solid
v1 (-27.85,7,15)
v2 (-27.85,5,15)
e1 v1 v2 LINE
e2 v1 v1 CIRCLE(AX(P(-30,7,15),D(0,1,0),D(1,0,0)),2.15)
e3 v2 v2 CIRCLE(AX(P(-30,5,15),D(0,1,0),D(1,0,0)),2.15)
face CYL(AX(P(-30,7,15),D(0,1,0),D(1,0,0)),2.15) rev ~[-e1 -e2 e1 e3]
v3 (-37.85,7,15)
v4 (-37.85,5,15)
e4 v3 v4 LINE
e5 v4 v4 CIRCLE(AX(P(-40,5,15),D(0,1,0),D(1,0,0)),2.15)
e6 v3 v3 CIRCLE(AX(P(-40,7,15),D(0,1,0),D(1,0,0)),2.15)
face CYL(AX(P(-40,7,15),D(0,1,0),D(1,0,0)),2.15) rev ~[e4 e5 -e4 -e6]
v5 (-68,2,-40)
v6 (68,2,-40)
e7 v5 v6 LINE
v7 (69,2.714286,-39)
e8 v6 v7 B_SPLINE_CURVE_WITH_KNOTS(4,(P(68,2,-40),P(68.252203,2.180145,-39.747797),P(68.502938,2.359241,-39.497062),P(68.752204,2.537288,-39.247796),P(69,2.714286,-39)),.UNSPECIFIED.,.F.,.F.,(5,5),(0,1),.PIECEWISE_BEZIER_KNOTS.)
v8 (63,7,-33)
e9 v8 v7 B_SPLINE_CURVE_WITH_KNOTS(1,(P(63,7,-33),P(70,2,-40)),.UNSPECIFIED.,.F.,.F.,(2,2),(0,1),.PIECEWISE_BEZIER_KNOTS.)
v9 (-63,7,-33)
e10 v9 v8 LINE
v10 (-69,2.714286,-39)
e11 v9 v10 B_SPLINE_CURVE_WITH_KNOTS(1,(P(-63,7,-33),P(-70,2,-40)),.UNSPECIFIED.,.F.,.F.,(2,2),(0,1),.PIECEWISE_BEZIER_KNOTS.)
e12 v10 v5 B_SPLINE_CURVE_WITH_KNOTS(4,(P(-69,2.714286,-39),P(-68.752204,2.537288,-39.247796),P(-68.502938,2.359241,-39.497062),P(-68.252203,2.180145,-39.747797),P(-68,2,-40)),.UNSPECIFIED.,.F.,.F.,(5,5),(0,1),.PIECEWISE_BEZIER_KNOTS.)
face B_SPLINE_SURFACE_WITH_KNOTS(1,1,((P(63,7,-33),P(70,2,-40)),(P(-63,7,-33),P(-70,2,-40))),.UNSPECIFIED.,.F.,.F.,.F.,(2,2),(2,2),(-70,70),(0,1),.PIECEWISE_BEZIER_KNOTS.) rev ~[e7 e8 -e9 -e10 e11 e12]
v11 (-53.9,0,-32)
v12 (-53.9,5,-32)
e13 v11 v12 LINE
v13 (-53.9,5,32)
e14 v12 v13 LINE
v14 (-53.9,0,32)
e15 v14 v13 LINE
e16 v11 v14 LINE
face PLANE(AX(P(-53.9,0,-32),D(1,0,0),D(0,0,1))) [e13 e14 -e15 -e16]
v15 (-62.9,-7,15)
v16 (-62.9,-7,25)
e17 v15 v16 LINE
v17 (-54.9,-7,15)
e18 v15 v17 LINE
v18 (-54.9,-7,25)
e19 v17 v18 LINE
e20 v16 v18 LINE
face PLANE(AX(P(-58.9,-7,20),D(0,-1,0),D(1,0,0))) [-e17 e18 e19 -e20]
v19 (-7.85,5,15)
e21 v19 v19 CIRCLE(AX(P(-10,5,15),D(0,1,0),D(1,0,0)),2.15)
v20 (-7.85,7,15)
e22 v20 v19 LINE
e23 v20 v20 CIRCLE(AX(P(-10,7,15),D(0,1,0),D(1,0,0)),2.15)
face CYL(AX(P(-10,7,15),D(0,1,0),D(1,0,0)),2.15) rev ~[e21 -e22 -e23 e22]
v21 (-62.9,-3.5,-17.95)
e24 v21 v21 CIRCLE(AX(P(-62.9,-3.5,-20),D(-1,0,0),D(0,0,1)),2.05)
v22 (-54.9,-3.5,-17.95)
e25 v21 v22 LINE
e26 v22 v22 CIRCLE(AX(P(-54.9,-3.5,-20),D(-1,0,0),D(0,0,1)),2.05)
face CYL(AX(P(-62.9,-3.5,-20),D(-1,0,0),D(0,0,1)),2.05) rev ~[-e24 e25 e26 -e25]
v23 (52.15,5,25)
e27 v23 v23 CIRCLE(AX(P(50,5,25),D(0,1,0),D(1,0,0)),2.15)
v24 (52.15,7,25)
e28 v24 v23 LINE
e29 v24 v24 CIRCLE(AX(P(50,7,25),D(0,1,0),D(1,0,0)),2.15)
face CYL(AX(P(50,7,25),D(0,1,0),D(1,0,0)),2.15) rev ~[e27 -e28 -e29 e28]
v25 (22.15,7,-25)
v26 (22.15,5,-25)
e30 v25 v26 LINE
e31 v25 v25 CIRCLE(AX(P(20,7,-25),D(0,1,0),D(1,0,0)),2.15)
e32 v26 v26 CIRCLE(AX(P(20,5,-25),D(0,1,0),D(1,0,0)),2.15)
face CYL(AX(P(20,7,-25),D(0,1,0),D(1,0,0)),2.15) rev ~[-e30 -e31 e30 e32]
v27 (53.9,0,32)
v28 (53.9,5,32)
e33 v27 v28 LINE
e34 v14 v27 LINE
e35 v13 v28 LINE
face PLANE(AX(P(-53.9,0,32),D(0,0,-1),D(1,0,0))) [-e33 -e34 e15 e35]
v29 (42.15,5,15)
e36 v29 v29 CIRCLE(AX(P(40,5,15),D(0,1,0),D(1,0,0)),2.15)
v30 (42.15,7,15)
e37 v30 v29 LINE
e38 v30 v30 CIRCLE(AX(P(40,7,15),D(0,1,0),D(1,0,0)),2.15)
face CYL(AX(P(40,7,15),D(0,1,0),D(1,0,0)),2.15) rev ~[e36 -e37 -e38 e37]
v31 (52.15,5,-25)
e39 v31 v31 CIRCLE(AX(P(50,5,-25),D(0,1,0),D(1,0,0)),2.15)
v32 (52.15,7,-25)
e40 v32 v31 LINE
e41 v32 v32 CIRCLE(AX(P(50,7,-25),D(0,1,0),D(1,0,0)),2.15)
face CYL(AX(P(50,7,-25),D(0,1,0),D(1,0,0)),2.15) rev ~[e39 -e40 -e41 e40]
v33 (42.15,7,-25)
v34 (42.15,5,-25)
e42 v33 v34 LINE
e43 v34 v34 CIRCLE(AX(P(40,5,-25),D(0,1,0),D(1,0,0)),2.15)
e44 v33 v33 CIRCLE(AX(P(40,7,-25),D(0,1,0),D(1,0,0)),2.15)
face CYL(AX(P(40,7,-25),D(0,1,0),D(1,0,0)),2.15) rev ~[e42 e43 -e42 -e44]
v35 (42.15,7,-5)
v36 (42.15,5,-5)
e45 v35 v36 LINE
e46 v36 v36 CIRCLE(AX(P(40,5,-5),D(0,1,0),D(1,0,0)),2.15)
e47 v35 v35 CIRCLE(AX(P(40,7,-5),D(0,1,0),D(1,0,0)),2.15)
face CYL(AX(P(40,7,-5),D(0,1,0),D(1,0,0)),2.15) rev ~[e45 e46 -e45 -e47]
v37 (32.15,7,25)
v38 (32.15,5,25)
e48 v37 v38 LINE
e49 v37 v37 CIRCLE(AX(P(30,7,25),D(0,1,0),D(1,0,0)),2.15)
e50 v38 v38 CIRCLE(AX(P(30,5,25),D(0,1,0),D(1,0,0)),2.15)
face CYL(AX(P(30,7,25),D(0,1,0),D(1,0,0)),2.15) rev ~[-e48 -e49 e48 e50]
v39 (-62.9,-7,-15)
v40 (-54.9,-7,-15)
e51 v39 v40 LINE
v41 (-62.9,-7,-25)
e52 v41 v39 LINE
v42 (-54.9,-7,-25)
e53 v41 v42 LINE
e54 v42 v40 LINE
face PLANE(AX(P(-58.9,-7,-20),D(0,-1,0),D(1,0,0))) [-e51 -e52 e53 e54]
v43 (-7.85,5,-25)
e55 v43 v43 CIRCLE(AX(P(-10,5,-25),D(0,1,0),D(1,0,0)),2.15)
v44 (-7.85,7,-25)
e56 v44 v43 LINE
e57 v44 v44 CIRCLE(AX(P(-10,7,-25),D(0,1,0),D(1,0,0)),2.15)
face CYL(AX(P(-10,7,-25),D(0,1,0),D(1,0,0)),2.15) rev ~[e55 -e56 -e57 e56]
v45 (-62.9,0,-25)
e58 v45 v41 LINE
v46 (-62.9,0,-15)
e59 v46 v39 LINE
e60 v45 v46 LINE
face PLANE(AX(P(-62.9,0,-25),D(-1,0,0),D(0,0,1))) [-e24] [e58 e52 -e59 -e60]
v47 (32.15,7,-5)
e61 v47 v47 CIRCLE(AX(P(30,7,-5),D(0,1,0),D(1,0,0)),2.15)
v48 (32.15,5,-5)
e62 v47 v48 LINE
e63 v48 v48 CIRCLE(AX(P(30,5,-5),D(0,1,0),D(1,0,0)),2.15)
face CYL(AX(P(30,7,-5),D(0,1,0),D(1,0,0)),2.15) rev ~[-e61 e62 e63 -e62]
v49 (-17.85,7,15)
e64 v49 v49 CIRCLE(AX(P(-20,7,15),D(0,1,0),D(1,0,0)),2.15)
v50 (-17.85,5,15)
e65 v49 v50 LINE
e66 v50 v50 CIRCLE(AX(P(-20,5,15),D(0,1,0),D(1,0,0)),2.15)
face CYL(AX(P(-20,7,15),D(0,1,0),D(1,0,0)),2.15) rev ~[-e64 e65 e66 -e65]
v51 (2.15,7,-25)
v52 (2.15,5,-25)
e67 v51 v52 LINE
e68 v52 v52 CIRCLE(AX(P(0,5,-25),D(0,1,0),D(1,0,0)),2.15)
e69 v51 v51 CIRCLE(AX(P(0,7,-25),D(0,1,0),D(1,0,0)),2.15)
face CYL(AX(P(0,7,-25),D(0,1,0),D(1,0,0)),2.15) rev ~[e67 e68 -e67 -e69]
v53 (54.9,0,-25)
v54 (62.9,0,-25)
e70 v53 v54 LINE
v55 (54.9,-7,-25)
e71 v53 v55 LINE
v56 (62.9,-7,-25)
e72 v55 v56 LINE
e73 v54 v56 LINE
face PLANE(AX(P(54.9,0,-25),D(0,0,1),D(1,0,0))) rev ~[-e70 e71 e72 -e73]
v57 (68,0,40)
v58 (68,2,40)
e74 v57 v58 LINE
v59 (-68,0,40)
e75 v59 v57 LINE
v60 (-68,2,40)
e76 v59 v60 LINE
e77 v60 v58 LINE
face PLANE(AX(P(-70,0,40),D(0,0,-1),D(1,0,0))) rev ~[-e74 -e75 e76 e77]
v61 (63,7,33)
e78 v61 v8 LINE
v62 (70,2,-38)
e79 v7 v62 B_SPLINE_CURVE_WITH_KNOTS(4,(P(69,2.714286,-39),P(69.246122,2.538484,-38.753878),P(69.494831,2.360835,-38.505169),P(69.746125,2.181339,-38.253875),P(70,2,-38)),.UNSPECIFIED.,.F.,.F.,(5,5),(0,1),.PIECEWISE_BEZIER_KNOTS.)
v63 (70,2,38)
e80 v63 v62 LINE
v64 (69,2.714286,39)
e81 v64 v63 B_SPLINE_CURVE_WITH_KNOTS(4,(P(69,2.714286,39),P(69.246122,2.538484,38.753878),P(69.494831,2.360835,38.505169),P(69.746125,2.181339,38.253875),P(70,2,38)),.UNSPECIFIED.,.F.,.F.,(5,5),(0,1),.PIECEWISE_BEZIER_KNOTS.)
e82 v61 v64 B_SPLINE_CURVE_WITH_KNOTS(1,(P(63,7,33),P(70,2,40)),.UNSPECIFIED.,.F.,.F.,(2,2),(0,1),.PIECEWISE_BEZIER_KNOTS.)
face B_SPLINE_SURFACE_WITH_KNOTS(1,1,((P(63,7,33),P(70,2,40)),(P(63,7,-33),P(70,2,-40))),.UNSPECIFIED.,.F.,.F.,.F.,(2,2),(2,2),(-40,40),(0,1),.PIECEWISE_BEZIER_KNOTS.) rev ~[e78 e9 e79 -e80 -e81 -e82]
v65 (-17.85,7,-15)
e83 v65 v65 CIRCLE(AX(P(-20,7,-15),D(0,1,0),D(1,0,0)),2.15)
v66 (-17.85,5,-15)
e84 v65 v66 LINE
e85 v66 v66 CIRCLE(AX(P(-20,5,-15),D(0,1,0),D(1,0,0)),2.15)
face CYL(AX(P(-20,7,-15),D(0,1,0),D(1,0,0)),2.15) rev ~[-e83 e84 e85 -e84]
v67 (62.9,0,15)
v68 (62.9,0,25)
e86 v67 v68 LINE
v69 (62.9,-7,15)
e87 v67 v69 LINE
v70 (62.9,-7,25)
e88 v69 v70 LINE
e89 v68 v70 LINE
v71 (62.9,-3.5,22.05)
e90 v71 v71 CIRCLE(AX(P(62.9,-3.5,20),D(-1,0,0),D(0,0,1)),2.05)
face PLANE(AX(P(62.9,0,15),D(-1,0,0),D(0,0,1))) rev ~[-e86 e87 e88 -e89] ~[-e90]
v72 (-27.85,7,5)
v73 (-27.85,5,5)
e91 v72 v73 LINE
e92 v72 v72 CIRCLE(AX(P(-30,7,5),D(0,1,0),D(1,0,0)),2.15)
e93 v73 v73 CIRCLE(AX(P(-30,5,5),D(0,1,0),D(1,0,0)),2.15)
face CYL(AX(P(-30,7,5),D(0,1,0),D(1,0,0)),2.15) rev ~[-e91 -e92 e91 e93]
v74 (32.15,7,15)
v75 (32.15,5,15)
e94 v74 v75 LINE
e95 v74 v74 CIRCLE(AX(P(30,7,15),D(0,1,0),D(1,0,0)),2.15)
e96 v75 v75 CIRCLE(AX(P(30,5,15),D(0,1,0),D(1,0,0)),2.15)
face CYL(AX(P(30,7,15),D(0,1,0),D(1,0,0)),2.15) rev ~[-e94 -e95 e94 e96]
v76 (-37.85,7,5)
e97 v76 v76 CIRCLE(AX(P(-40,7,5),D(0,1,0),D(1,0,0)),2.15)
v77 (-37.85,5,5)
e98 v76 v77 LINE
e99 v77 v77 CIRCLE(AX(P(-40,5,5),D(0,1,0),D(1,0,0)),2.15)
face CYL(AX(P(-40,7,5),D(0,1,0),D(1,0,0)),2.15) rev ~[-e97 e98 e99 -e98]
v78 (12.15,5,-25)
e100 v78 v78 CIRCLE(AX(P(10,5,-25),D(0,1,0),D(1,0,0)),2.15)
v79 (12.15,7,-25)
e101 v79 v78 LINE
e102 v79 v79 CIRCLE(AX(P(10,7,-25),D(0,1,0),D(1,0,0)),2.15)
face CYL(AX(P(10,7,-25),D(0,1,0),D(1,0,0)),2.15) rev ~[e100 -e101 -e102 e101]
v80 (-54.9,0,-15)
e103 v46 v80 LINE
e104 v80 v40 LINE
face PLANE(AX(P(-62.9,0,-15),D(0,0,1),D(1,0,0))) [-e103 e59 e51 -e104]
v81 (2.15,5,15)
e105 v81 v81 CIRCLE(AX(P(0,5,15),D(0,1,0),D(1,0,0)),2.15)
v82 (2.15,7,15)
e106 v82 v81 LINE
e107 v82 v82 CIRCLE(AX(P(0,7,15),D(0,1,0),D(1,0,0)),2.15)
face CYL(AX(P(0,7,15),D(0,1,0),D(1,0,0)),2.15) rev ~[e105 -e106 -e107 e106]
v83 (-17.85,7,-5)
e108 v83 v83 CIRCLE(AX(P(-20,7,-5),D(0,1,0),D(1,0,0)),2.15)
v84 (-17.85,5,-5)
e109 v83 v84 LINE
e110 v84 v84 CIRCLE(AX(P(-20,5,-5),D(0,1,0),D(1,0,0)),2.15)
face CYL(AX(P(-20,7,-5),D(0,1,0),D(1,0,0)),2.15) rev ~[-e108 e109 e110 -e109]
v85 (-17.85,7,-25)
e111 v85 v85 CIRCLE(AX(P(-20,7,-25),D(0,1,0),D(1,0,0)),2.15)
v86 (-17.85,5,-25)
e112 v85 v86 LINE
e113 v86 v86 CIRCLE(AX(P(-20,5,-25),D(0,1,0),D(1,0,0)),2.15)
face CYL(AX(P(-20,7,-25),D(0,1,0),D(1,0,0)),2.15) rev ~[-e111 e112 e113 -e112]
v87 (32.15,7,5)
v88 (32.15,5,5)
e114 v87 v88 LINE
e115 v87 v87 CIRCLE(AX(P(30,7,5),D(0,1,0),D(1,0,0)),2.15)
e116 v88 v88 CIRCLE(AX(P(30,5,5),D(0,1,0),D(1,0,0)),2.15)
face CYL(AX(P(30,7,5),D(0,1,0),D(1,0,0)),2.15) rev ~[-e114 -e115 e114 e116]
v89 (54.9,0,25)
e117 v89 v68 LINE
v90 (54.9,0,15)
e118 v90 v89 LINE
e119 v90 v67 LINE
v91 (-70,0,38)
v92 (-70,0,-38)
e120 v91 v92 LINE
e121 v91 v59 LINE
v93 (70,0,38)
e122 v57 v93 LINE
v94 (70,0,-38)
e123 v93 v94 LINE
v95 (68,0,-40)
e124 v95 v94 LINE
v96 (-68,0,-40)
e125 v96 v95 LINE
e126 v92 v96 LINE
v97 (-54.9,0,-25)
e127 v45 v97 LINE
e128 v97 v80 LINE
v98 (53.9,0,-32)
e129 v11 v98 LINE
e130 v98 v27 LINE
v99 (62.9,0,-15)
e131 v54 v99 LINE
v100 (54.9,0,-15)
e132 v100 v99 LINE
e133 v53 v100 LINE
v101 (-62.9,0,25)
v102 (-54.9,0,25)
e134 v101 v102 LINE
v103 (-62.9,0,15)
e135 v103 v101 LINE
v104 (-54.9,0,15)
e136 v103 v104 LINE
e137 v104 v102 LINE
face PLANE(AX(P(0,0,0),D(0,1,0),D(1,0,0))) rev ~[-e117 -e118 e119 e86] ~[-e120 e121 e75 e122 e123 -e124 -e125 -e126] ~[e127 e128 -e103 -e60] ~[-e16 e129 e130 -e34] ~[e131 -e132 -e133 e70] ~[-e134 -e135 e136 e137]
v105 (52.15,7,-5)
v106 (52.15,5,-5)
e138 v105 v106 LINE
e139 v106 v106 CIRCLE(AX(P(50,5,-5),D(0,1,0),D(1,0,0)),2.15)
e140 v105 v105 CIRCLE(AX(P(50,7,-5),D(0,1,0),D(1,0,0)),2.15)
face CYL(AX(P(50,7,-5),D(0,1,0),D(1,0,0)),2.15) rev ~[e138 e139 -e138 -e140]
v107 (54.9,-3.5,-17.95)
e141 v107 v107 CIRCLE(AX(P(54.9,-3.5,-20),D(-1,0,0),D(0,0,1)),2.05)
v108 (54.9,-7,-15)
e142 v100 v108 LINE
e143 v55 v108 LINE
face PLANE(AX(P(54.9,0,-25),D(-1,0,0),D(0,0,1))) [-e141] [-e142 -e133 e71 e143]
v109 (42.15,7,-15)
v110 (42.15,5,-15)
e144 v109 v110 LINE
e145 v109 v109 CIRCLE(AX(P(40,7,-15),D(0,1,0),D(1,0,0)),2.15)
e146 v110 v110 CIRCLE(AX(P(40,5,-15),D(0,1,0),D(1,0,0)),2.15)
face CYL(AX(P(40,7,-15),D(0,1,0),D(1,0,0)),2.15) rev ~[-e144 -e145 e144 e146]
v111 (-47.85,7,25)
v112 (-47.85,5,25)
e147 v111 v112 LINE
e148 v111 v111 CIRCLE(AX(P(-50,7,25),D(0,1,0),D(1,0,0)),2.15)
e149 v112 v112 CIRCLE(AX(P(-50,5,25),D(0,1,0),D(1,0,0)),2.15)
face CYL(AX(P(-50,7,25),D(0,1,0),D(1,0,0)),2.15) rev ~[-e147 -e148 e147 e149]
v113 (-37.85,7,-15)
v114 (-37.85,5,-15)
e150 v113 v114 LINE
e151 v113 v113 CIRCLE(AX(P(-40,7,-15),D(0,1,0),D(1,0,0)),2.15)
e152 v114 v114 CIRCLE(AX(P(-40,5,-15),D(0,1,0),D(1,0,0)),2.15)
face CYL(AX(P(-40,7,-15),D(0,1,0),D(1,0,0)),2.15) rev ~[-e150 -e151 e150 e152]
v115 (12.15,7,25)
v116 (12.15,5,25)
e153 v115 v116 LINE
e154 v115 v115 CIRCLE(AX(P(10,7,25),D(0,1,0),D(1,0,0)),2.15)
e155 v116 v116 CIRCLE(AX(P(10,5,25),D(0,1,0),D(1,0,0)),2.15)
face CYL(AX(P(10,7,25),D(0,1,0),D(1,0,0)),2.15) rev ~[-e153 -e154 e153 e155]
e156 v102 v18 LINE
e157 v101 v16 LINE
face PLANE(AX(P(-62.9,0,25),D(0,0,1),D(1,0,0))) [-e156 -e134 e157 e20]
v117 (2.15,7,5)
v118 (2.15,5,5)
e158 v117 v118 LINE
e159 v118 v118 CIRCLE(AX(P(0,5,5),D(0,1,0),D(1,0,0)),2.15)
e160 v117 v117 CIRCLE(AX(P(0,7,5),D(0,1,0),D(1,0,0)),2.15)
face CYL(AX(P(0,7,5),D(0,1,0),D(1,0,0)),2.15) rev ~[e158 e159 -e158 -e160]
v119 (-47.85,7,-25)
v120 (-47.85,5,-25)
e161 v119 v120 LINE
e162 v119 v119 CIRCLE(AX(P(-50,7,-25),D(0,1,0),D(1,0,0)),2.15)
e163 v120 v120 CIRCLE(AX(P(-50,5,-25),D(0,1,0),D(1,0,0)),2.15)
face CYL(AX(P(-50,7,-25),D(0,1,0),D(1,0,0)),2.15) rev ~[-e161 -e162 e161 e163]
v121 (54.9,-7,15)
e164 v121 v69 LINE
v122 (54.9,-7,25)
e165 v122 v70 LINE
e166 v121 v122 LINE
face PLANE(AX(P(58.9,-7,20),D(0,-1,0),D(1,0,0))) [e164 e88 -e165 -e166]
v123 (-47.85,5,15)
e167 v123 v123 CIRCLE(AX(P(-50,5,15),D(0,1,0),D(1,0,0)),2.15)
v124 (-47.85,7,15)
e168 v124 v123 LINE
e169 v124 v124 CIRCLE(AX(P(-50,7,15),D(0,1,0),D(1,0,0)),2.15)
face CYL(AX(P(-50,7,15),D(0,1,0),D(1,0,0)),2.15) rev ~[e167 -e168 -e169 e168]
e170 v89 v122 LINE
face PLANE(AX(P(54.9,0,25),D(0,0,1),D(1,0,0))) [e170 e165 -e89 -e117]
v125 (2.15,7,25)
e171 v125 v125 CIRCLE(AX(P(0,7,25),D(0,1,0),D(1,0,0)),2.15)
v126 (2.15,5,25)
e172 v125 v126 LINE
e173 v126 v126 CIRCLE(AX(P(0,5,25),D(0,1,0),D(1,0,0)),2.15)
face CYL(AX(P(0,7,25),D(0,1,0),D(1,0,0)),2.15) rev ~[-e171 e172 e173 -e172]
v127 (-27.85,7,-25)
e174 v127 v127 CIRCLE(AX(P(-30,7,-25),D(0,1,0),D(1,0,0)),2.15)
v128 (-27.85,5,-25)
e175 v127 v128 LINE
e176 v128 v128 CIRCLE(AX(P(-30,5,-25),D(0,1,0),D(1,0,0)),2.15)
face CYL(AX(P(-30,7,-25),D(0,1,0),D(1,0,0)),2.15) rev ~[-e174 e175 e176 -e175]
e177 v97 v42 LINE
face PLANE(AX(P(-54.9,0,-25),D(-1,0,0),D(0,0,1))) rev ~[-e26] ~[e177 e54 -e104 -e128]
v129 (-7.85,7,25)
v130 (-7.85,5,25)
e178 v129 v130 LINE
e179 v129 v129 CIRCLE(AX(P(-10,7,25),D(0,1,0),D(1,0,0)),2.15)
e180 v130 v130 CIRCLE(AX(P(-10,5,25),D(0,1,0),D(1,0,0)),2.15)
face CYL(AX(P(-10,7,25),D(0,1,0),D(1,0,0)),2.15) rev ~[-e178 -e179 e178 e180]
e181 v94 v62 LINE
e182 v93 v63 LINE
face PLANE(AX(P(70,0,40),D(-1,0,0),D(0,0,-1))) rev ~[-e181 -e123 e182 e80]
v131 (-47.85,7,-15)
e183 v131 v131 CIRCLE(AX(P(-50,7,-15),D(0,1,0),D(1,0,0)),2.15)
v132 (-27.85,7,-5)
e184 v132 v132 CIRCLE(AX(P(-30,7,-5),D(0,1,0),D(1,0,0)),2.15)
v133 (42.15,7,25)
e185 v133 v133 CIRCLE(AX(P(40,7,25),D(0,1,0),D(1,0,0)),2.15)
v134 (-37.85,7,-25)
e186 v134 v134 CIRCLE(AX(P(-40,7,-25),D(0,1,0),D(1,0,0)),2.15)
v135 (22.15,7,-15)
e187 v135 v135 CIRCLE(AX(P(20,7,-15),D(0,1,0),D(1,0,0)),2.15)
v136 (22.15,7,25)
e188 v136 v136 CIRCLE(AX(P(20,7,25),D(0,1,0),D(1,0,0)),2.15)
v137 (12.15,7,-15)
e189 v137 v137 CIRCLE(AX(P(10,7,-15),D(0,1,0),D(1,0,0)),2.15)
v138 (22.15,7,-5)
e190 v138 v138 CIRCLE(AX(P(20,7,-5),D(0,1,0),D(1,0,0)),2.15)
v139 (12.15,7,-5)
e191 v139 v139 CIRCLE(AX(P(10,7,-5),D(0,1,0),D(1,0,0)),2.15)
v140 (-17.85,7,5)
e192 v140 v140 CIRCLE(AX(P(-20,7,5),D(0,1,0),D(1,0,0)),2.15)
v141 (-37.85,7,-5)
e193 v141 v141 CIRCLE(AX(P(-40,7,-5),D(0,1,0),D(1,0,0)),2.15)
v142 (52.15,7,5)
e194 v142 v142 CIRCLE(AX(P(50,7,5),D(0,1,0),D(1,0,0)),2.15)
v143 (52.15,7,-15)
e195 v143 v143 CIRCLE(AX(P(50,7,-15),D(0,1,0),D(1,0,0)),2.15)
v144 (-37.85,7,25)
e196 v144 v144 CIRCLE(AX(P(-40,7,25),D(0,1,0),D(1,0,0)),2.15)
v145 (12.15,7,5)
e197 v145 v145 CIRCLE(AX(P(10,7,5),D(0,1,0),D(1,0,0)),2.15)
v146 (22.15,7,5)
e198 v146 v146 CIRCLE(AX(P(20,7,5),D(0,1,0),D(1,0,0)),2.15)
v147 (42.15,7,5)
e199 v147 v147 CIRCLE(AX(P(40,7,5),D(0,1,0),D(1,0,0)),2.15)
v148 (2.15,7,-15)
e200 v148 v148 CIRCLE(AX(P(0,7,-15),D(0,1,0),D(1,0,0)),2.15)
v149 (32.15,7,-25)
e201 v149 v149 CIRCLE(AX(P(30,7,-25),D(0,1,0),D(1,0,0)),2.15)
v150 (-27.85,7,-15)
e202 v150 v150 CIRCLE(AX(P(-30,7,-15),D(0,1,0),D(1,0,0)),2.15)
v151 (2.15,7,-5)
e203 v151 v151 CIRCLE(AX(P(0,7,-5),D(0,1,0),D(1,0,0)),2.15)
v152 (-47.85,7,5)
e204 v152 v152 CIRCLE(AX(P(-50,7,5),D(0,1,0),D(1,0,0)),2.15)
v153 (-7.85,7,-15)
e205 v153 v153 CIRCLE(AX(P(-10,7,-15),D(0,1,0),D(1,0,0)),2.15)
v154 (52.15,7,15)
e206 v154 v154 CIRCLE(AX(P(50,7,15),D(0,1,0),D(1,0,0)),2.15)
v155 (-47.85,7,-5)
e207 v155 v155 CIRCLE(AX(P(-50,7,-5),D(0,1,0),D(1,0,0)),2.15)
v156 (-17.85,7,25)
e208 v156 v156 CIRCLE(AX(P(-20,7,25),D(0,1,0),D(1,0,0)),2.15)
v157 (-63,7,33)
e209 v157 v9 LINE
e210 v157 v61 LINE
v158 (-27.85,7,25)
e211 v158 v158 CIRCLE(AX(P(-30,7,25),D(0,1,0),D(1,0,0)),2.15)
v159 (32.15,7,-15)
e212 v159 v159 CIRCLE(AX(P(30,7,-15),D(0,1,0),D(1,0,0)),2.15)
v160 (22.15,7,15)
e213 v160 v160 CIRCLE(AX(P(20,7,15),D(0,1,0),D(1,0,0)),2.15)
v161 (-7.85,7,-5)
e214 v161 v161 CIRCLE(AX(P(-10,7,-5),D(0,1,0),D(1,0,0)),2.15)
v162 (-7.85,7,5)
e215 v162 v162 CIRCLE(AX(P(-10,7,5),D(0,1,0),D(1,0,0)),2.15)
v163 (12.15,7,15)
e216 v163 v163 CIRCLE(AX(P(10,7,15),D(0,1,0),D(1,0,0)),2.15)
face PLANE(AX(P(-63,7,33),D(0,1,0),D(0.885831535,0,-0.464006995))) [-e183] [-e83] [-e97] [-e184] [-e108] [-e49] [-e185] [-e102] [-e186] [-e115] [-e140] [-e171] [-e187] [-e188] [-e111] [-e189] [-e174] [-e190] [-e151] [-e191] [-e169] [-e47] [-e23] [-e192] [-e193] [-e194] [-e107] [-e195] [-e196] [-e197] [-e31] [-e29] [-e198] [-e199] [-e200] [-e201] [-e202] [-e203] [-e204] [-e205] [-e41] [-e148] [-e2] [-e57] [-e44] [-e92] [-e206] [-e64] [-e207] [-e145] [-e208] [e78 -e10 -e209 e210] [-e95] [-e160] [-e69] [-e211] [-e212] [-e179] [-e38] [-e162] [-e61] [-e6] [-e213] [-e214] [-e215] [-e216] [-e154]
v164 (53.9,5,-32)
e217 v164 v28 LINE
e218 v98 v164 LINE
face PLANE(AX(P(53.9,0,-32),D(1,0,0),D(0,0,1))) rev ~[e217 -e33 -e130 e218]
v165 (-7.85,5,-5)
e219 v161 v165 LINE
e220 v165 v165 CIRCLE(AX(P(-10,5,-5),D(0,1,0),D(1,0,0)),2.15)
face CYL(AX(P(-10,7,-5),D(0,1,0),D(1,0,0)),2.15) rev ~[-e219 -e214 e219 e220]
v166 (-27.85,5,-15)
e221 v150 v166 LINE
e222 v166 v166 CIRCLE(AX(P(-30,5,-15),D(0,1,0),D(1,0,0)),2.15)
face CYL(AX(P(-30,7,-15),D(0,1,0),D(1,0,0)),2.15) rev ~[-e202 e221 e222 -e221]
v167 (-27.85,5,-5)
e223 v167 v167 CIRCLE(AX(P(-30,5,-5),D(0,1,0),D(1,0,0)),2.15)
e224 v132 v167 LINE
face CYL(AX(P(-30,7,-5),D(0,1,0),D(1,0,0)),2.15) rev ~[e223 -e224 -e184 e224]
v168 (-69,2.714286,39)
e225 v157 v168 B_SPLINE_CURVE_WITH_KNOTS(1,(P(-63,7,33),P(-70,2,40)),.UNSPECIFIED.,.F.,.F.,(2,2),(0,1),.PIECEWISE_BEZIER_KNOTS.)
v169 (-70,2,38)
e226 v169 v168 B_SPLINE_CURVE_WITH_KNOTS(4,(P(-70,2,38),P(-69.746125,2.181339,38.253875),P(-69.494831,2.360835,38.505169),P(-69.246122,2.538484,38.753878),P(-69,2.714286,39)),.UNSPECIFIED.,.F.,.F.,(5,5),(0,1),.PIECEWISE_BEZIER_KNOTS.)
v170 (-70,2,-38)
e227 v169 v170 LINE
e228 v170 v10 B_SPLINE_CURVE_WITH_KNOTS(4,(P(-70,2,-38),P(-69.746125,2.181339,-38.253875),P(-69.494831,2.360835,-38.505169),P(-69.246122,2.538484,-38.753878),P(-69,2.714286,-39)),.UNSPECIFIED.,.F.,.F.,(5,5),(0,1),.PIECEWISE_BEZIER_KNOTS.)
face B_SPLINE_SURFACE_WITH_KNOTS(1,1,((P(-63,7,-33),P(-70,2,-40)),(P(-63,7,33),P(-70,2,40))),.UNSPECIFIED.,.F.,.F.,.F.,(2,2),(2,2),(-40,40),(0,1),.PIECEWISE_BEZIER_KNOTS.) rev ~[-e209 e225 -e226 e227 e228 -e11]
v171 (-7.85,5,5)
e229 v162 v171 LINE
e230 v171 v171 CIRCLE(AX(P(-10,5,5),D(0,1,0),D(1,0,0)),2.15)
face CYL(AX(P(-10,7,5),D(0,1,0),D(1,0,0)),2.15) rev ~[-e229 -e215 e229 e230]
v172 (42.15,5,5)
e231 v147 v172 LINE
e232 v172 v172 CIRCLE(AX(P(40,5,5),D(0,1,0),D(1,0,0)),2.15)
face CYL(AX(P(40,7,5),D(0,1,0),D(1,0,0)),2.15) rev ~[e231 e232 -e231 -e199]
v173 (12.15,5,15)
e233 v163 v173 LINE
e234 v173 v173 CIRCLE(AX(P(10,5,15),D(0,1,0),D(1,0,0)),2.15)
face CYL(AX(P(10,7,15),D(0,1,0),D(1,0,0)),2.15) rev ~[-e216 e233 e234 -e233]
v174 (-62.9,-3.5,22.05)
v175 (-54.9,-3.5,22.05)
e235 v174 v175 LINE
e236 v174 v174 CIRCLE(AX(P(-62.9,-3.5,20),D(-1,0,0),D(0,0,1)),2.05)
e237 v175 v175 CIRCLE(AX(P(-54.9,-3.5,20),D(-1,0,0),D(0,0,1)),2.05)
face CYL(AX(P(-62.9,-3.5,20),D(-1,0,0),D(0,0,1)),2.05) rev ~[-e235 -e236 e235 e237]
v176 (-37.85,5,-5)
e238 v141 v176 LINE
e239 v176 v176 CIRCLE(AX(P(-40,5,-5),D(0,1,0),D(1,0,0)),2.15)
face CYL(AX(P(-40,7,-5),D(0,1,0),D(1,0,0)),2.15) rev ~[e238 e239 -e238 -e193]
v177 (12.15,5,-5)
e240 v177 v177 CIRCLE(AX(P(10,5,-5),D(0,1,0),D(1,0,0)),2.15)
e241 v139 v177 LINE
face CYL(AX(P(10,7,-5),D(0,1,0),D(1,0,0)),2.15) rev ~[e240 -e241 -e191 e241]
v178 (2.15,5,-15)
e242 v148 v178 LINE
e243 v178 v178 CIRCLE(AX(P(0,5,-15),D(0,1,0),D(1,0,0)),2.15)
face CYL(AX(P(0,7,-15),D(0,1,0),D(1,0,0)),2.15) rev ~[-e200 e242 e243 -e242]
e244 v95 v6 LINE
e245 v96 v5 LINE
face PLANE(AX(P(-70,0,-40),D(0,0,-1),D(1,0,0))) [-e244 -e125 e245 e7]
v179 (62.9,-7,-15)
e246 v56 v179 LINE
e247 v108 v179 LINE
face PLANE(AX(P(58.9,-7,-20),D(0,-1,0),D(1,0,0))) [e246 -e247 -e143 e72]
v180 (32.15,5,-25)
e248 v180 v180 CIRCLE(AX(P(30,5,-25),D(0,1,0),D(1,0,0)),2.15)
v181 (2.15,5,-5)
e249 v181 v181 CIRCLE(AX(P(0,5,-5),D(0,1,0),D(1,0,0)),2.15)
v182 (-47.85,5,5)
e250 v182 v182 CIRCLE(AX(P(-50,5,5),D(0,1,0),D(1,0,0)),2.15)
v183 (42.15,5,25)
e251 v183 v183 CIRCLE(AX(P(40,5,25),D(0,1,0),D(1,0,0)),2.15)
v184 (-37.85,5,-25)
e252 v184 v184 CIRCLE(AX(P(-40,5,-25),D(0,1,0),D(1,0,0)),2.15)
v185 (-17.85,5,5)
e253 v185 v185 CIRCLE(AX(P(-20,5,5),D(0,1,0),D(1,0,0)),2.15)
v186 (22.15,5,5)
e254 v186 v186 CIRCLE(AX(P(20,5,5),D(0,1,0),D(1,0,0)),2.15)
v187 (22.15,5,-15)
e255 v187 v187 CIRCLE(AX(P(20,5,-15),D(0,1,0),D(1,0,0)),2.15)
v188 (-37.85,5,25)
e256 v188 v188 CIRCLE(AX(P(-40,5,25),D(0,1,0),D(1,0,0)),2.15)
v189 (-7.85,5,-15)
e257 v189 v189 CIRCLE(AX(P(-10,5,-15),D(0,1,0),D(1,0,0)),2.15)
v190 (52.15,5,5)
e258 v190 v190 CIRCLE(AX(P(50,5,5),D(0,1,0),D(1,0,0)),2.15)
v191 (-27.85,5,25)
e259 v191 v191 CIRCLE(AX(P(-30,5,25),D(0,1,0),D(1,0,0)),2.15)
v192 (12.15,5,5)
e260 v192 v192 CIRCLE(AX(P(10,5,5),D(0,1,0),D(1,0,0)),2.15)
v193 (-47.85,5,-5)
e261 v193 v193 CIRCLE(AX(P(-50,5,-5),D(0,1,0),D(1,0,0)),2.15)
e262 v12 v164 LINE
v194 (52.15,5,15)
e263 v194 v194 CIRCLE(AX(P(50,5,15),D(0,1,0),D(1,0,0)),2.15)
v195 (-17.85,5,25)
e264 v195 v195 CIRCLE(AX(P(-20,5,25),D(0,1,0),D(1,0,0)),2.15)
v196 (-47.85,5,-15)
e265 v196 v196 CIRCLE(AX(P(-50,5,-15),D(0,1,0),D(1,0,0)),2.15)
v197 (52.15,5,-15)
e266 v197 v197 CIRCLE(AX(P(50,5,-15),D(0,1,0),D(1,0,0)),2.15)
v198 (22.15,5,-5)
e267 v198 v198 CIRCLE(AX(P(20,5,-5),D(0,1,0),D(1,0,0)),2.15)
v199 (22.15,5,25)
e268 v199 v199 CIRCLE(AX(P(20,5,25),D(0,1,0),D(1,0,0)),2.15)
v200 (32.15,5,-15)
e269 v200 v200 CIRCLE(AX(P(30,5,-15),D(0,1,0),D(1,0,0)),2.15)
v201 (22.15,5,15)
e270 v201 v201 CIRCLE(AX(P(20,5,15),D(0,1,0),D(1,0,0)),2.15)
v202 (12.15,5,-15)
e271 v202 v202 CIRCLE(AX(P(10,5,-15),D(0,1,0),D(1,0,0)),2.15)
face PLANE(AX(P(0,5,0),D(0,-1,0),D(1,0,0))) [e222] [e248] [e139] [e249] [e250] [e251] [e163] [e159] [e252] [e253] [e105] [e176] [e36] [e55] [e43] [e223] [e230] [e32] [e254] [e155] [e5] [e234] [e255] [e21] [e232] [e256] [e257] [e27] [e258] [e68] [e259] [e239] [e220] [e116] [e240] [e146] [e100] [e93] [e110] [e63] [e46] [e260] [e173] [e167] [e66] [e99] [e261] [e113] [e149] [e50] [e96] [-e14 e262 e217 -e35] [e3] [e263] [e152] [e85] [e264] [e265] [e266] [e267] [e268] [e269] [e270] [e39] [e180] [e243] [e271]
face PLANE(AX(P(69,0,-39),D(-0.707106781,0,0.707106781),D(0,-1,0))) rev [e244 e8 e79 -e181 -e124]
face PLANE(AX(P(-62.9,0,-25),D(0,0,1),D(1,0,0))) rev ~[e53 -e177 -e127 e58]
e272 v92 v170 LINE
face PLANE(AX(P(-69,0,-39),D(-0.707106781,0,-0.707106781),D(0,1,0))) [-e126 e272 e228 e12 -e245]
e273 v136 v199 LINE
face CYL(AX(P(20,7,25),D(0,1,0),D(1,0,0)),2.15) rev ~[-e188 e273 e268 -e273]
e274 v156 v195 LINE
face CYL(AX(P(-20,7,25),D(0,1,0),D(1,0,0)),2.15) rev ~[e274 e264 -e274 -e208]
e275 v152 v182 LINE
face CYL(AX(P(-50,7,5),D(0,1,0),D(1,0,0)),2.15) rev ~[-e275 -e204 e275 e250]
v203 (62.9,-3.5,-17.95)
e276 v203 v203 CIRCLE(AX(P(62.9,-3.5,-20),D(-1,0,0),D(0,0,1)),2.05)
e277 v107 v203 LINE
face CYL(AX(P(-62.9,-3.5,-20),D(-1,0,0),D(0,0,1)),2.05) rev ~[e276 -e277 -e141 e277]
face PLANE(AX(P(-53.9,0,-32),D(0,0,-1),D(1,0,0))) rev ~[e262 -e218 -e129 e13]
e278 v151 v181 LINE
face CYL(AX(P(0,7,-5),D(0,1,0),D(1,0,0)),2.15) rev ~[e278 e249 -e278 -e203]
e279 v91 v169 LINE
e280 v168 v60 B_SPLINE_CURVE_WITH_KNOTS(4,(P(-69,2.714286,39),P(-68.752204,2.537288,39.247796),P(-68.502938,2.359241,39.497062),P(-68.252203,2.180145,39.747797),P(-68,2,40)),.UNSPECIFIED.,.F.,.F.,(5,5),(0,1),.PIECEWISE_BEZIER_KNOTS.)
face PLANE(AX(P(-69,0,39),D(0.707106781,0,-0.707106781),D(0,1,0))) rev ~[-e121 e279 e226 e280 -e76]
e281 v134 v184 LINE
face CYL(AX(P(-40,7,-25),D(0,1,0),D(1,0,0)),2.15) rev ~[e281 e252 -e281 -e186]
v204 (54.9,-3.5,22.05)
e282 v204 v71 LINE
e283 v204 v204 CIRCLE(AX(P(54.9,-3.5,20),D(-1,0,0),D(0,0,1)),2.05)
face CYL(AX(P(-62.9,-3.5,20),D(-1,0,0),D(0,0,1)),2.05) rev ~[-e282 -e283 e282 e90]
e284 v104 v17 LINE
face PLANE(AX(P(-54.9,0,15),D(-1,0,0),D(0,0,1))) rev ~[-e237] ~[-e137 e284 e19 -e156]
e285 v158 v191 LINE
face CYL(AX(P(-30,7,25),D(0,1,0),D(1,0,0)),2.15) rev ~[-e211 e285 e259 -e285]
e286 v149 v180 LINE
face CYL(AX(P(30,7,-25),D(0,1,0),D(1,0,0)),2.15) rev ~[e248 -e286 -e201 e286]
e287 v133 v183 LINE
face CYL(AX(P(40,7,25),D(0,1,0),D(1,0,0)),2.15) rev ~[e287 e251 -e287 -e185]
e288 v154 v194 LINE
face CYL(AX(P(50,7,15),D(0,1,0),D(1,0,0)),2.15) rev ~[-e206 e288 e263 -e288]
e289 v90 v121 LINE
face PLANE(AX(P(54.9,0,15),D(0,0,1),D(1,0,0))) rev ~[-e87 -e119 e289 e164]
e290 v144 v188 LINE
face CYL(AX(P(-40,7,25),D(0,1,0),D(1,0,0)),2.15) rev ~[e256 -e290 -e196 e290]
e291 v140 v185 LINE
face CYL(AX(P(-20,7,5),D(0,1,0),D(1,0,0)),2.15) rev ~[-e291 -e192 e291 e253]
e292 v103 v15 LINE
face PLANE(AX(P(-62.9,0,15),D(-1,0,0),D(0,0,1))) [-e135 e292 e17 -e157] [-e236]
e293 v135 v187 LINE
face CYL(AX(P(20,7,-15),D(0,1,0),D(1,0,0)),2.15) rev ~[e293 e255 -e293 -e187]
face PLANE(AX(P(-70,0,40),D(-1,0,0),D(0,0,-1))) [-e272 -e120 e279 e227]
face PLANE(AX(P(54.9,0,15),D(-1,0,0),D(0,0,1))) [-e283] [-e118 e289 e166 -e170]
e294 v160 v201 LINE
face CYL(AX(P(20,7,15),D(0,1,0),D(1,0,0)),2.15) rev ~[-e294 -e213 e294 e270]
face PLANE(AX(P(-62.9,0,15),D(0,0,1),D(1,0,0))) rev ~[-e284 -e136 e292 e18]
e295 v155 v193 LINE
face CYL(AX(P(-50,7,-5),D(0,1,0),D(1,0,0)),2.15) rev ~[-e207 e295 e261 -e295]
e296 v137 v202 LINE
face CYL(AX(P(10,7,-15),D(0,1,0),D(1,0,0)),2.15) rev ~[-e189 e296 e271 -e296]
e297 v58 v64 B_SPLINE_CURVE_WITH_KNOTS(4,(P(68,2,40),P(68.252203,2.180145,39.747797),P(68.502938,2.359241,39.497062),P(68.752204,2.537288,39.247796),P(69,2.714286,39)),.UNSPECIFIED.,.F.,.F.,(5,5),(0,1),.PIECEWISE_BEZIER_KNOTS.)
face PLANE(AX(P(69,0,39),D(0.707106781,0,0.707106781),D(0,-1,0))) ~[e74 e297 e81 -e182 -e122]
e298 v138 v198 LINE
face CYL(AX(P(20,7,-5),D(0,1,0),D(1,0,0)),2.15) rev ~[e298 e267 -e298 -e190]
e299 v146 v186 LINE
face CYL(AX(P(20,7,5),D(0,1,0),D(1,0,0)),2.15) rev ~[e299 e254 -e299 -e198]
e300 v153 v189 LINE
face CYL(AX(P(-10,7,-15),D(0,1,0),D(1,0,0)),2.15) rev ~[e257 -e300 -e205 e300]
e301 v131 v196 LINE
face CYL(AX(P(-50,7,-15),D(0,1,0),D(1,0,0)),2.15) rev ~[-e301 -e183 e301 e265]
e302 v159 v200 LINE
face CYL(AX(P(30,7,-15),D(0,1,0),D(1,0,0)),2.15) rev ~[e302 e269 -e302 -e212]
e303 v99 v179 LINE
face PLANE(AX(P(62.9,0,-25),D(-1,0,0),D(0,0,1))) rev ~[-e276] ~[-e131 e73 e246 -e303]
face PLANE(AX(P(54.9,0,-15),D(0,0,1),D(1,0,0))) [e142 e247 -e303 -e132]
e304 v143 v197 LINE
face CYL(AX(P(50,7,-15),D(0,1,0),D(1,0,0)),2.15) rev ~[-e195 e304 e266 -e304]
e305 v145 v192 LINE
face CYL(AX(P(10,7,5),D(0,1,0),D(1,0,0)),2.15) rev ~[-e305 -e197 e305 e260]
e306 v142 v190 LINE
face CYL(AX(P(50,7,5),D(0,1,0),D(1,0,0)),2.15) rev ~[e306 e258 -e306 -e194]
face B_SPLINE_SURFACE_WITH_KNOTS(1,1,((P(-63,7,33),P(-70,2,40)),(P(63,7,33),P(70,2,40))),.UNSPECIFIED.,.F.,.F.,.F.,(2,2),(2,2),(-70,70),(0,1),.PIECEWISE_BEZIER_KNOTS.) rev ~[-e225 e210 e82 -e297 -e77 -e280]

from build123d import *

# Parameters (mm, degrees)
SKETCH1_W                       = 140
SKETCH1_H                       = 80
BOSS_EXTRUDE1_DEPTH             = 2
SKETCH3_W                       = 126
SKETCH3_H                       = 66
SKETCH2_W                       = 140
SKETCH2_H                       = 80
CHAMFER2_SIZE                   = 2
SKETCH4_W                       = 8
SKETCH4_H                       = 10
BOSS_EXTRUDE2_DEPTH             = 7
SKETCH5_R                       = 2.05
CUT_EXTRUDE1_DEPTH              = 133.9000001
SKETCH6_W                       = 107.8
SKETCH6_H                       = 64
CUT_EXTRUDE2_DEPTH              = 5
SKIZZE1_R                       = 2.15
SCHNITT_LINEAR_AUSTRAGEN2_DEPTH = 10


with BuildPart() as part:
    # Sketch1 → Boss-Extrude1 (new body)
    with BuildSketch(Plane(origin=(0, 0, 0), x_dir=(1, 0, 0), z_dir=(0, 1, 0))):
        Rectangle(SKETCH1_W, SKETCH1_H)
    extrude(amount=BOSS_EXTRUDE1_DEPTH)

    # Sketch3 → Loft1 section 0
    with BuildSketch(Plane(origin=(0, 7, 0), x_dir=(1, 0, 0), z_dir=(0, 1, 0))):
        Rectangle(SKETCH3_W, SKETCH3_H)
    # Sketch2 → Loft1 section 1
    with BuildSketch(Plane(origin=(0, 2, 0), x_dir=(1, 0, 0), z_dir=(0, 1, 0))):
        Rectangle(SKETCH2_W, SKETCH2_H)
    loft()

    # Chamfer2
    chamfer2_edges = [part.edges().sort_by_distance(p)[0] for p in [
        (70, 1, 40),
        (-70, 1, 40),
        (-70, 1, -40),
        (70, 1, -40),
    ]]
    chamfer(chamfer2_edges, length=CHAMFER2_SIZE)

    # Sketch4 → Boss-Extrude2 (add)
    with BuildSketch(Plane.XZ):
        with Locations((-58.9, 20)):
            Rectangle(SKETCH4_W, SKETCH4_H)
        with Locations((-58.9, -20)):
            Rectangle(SKETCH4_W, SKETCH4_H)
        with Locations((58.9, -20)):
            Rectangle(SKETCH4_W, SKETCH4_H)
        with Locations((58.9, 20)):
            Rectangle(SKETCH4_W, SKETCH4_H)
    extrude(amount=BOSS_EXTRUDE2_DEPTH)

    # Sketch5 → Cut-Extrude1 (cut, through all)
    with BuildSketch(Plane.ZY.offset(62.9)):
        with Locations((-20, -3.5)):
            Circle(SKETCH5_R)
        with Locations((20, -3.5)):
            Circle(SKETCH5_R)
    extrude(amount=-CUT_EXTRUDE1_DEPTH, mode=Mode.SUBTRACT)

    # Sketch6 → Cut-Extrude2 (cut)
    with BuildSketch(Plane.XZ):
        Rectangle(SKETCH6_W, SKETCH6_H)
    extrude(amount=-CUT_EXTRUDE2_DEPTH, mode=Mode.SUBTRACT)

    # Skizze1 → Schnitt-Linear austragen2 (cut)
    with BuildSketch(Plane(origin=(0, 7, 0), x_dir=(1, 0, 0), z_dir=(0, 1, 0))):
        with Locations((-50, -25)):
            Circle(SKIZZE1_R)
        with Locations((-40, -25)):
            Circle(SKIZZE1_R)
        with Locations((-30, -25)):
            Circle(SKIZZE1_R)
        with Locations((-20, -25)):
            Circle(SKIZZE1_R)
        with Locations((-10, -25)):
            Circle(SKIZZE1_R)
        with Locations((0, -25)):
            Circle(SKIZZE1_R)
        with Locations((10, -25)):
            Circle(SKIZZE1_R)
        with Locations((20, -25)):
            Circle(SKIZZE1_R)
        with Locations((30, -25)):
            Circle(SKIZZE1_R)
        with Locations((40, -25)):
            Circle(SKIZZE1_R)
        with Locations((50, -25)):
            Circle(SKIZZE1_R)
        with Locations((-40, -15)):
            Circle(SKIZZE1_R)
        with Locations((-30, -15)):
            Circle(SKIZZE1_R)
        with Locations((-20, -15)):
            Circle(SKIZZE1_R)
        with Locations((-10, -15)):
            Circle(SKIZZE1_R)
        with Locations((0, -15)):
            Circle(SKIZZE1_R)
        with Locations((10, -15)):
            Circle(SKIZZE1_R)
        with Locations((20, -15)):
            Circle(SKIZZE1_R)
        with Locations((30, -15)):
            Circle(SKIZZE1_R)
        with Locations((40, -15)):
            Circle(SKIZZE1_R)
        with Locations((50, -15)):
            Circle(SKIZZE1_R)
        with Locations((-40, -5)):
            Circle(SKIZZE1_R)
        with Locations((-30, -5)):
            Circle(SKIZZE1_R)
        with Locations((-20, -5)):
            Circle(SKIZZE1_R)
        with Locations((-10, -5)):
            Circle(SKIZZE1_R)
        with Locations((0, -5)):
            Circle(SKIZZE1_R)
        with Locations((10, -5)):
            Circle(SKIZZE1_R)
        with Locations((20, -5)):
            Circle(SKIZZE1_R)
        with Locations((30, -5)):
            Circle(SKIZZE1_R)
        with Locations((40, -5)):
            Circle(SKIZZE1_R)
        with Locations((50, -5)):
            Circle(SKIZZE1_R)
        with Locations((-40, 5)):
            Circle(SKIZZE1_R)
        with Locations((-30, 5)):
            Circle(SKIZZE1_R)
        with Locations((-20, 5)):
            Circle(SKIZZE1_R)
        with Locations((-10, 5)):
            Circle(SKIZZE1_R)
        with Locations((0, 5)):
            Circle(SKIZZE1_R)
        with Locations((10, 5)):
            Circle(SKIZZE1_R)
        with Locations((20, 5)):
            Circle(SKIZZE1_R)
        with Locations((30, 5)):
            Circle(SKIZZE1_R)
        with Locations((40, 5)):
            Circle(SKIZZE1_R)
        with Locations((50, 5)):
            Circle(SKIZZE1_R)
        with Locations((-40, 15)):
            Circle(SKIZZE1_R)
        with Locations((-30, 15)):
            Circle(SKIZZE1_R)
        with Locations((-20, 15)):
            Circle(SKIZZE1_R)
        with Locations((-10, 15)):
            Circle(SKIZZE1_R)
        with Locations((0, 15)):
            Circle(SKIZZE1_R)
        with Locations((10, 15)):
            Circle(SKIZZE1_R)
        with Locations((20, 15)):
            Circle(SKIZZE1_R)
        with Locations((30, 15)):
            Circle(SKIZZE1_R)
        with Locations((40, 15)):
            Circle(SKIZZE1_R)
        with Locations((50, 15)):
            Circle(SKIZZE1_R)
        with Locations((-40, 25)):
            Circle(SKIZZE1_R)
        with Locations((-30, 25)):
            Circle(SKIZZE1_R)
        with Locations((-20, 25)):
            Circle(SKIZZE1_R)
        with Locations((-10, 25)):
            Circle(SKIZZE1_R)
        with Locations((0, 25)):
            Circle(SKIZZE1_R)
        with Locations((10, 25)):
            Circle(SKIZZE1_R)
        with Locations((20, 25)):
            Circle(SKIZZE1_R)
        with Locations((30, 25)):
            Circle(SKIZZE1_R)
        with Locations((40, 25)):
            Circle(SKIZZE1_R)
        with Locations((50, 25)):
            Circle(SKIZZE1_R)
        with Locations((-50, -15)):
            Circle(SKIZZE1_R)
        with Locations((-50, -5)):
            Circle(SKIZZE1_R)
        with Locations((-50, 5)):
            Circle(SKIZZE1_R)
        with Locations((-50, 15)):
            Circle(SKIZZE1_R)
        with Locations((-50, 25)):
            Circle(SKIZZE1_R)
    extrude(amount=-SCHNITT_LINEAR_AUSTRAGEN2_DEPTH, mode=Mode.SUBTRACT)


solid = part.part
